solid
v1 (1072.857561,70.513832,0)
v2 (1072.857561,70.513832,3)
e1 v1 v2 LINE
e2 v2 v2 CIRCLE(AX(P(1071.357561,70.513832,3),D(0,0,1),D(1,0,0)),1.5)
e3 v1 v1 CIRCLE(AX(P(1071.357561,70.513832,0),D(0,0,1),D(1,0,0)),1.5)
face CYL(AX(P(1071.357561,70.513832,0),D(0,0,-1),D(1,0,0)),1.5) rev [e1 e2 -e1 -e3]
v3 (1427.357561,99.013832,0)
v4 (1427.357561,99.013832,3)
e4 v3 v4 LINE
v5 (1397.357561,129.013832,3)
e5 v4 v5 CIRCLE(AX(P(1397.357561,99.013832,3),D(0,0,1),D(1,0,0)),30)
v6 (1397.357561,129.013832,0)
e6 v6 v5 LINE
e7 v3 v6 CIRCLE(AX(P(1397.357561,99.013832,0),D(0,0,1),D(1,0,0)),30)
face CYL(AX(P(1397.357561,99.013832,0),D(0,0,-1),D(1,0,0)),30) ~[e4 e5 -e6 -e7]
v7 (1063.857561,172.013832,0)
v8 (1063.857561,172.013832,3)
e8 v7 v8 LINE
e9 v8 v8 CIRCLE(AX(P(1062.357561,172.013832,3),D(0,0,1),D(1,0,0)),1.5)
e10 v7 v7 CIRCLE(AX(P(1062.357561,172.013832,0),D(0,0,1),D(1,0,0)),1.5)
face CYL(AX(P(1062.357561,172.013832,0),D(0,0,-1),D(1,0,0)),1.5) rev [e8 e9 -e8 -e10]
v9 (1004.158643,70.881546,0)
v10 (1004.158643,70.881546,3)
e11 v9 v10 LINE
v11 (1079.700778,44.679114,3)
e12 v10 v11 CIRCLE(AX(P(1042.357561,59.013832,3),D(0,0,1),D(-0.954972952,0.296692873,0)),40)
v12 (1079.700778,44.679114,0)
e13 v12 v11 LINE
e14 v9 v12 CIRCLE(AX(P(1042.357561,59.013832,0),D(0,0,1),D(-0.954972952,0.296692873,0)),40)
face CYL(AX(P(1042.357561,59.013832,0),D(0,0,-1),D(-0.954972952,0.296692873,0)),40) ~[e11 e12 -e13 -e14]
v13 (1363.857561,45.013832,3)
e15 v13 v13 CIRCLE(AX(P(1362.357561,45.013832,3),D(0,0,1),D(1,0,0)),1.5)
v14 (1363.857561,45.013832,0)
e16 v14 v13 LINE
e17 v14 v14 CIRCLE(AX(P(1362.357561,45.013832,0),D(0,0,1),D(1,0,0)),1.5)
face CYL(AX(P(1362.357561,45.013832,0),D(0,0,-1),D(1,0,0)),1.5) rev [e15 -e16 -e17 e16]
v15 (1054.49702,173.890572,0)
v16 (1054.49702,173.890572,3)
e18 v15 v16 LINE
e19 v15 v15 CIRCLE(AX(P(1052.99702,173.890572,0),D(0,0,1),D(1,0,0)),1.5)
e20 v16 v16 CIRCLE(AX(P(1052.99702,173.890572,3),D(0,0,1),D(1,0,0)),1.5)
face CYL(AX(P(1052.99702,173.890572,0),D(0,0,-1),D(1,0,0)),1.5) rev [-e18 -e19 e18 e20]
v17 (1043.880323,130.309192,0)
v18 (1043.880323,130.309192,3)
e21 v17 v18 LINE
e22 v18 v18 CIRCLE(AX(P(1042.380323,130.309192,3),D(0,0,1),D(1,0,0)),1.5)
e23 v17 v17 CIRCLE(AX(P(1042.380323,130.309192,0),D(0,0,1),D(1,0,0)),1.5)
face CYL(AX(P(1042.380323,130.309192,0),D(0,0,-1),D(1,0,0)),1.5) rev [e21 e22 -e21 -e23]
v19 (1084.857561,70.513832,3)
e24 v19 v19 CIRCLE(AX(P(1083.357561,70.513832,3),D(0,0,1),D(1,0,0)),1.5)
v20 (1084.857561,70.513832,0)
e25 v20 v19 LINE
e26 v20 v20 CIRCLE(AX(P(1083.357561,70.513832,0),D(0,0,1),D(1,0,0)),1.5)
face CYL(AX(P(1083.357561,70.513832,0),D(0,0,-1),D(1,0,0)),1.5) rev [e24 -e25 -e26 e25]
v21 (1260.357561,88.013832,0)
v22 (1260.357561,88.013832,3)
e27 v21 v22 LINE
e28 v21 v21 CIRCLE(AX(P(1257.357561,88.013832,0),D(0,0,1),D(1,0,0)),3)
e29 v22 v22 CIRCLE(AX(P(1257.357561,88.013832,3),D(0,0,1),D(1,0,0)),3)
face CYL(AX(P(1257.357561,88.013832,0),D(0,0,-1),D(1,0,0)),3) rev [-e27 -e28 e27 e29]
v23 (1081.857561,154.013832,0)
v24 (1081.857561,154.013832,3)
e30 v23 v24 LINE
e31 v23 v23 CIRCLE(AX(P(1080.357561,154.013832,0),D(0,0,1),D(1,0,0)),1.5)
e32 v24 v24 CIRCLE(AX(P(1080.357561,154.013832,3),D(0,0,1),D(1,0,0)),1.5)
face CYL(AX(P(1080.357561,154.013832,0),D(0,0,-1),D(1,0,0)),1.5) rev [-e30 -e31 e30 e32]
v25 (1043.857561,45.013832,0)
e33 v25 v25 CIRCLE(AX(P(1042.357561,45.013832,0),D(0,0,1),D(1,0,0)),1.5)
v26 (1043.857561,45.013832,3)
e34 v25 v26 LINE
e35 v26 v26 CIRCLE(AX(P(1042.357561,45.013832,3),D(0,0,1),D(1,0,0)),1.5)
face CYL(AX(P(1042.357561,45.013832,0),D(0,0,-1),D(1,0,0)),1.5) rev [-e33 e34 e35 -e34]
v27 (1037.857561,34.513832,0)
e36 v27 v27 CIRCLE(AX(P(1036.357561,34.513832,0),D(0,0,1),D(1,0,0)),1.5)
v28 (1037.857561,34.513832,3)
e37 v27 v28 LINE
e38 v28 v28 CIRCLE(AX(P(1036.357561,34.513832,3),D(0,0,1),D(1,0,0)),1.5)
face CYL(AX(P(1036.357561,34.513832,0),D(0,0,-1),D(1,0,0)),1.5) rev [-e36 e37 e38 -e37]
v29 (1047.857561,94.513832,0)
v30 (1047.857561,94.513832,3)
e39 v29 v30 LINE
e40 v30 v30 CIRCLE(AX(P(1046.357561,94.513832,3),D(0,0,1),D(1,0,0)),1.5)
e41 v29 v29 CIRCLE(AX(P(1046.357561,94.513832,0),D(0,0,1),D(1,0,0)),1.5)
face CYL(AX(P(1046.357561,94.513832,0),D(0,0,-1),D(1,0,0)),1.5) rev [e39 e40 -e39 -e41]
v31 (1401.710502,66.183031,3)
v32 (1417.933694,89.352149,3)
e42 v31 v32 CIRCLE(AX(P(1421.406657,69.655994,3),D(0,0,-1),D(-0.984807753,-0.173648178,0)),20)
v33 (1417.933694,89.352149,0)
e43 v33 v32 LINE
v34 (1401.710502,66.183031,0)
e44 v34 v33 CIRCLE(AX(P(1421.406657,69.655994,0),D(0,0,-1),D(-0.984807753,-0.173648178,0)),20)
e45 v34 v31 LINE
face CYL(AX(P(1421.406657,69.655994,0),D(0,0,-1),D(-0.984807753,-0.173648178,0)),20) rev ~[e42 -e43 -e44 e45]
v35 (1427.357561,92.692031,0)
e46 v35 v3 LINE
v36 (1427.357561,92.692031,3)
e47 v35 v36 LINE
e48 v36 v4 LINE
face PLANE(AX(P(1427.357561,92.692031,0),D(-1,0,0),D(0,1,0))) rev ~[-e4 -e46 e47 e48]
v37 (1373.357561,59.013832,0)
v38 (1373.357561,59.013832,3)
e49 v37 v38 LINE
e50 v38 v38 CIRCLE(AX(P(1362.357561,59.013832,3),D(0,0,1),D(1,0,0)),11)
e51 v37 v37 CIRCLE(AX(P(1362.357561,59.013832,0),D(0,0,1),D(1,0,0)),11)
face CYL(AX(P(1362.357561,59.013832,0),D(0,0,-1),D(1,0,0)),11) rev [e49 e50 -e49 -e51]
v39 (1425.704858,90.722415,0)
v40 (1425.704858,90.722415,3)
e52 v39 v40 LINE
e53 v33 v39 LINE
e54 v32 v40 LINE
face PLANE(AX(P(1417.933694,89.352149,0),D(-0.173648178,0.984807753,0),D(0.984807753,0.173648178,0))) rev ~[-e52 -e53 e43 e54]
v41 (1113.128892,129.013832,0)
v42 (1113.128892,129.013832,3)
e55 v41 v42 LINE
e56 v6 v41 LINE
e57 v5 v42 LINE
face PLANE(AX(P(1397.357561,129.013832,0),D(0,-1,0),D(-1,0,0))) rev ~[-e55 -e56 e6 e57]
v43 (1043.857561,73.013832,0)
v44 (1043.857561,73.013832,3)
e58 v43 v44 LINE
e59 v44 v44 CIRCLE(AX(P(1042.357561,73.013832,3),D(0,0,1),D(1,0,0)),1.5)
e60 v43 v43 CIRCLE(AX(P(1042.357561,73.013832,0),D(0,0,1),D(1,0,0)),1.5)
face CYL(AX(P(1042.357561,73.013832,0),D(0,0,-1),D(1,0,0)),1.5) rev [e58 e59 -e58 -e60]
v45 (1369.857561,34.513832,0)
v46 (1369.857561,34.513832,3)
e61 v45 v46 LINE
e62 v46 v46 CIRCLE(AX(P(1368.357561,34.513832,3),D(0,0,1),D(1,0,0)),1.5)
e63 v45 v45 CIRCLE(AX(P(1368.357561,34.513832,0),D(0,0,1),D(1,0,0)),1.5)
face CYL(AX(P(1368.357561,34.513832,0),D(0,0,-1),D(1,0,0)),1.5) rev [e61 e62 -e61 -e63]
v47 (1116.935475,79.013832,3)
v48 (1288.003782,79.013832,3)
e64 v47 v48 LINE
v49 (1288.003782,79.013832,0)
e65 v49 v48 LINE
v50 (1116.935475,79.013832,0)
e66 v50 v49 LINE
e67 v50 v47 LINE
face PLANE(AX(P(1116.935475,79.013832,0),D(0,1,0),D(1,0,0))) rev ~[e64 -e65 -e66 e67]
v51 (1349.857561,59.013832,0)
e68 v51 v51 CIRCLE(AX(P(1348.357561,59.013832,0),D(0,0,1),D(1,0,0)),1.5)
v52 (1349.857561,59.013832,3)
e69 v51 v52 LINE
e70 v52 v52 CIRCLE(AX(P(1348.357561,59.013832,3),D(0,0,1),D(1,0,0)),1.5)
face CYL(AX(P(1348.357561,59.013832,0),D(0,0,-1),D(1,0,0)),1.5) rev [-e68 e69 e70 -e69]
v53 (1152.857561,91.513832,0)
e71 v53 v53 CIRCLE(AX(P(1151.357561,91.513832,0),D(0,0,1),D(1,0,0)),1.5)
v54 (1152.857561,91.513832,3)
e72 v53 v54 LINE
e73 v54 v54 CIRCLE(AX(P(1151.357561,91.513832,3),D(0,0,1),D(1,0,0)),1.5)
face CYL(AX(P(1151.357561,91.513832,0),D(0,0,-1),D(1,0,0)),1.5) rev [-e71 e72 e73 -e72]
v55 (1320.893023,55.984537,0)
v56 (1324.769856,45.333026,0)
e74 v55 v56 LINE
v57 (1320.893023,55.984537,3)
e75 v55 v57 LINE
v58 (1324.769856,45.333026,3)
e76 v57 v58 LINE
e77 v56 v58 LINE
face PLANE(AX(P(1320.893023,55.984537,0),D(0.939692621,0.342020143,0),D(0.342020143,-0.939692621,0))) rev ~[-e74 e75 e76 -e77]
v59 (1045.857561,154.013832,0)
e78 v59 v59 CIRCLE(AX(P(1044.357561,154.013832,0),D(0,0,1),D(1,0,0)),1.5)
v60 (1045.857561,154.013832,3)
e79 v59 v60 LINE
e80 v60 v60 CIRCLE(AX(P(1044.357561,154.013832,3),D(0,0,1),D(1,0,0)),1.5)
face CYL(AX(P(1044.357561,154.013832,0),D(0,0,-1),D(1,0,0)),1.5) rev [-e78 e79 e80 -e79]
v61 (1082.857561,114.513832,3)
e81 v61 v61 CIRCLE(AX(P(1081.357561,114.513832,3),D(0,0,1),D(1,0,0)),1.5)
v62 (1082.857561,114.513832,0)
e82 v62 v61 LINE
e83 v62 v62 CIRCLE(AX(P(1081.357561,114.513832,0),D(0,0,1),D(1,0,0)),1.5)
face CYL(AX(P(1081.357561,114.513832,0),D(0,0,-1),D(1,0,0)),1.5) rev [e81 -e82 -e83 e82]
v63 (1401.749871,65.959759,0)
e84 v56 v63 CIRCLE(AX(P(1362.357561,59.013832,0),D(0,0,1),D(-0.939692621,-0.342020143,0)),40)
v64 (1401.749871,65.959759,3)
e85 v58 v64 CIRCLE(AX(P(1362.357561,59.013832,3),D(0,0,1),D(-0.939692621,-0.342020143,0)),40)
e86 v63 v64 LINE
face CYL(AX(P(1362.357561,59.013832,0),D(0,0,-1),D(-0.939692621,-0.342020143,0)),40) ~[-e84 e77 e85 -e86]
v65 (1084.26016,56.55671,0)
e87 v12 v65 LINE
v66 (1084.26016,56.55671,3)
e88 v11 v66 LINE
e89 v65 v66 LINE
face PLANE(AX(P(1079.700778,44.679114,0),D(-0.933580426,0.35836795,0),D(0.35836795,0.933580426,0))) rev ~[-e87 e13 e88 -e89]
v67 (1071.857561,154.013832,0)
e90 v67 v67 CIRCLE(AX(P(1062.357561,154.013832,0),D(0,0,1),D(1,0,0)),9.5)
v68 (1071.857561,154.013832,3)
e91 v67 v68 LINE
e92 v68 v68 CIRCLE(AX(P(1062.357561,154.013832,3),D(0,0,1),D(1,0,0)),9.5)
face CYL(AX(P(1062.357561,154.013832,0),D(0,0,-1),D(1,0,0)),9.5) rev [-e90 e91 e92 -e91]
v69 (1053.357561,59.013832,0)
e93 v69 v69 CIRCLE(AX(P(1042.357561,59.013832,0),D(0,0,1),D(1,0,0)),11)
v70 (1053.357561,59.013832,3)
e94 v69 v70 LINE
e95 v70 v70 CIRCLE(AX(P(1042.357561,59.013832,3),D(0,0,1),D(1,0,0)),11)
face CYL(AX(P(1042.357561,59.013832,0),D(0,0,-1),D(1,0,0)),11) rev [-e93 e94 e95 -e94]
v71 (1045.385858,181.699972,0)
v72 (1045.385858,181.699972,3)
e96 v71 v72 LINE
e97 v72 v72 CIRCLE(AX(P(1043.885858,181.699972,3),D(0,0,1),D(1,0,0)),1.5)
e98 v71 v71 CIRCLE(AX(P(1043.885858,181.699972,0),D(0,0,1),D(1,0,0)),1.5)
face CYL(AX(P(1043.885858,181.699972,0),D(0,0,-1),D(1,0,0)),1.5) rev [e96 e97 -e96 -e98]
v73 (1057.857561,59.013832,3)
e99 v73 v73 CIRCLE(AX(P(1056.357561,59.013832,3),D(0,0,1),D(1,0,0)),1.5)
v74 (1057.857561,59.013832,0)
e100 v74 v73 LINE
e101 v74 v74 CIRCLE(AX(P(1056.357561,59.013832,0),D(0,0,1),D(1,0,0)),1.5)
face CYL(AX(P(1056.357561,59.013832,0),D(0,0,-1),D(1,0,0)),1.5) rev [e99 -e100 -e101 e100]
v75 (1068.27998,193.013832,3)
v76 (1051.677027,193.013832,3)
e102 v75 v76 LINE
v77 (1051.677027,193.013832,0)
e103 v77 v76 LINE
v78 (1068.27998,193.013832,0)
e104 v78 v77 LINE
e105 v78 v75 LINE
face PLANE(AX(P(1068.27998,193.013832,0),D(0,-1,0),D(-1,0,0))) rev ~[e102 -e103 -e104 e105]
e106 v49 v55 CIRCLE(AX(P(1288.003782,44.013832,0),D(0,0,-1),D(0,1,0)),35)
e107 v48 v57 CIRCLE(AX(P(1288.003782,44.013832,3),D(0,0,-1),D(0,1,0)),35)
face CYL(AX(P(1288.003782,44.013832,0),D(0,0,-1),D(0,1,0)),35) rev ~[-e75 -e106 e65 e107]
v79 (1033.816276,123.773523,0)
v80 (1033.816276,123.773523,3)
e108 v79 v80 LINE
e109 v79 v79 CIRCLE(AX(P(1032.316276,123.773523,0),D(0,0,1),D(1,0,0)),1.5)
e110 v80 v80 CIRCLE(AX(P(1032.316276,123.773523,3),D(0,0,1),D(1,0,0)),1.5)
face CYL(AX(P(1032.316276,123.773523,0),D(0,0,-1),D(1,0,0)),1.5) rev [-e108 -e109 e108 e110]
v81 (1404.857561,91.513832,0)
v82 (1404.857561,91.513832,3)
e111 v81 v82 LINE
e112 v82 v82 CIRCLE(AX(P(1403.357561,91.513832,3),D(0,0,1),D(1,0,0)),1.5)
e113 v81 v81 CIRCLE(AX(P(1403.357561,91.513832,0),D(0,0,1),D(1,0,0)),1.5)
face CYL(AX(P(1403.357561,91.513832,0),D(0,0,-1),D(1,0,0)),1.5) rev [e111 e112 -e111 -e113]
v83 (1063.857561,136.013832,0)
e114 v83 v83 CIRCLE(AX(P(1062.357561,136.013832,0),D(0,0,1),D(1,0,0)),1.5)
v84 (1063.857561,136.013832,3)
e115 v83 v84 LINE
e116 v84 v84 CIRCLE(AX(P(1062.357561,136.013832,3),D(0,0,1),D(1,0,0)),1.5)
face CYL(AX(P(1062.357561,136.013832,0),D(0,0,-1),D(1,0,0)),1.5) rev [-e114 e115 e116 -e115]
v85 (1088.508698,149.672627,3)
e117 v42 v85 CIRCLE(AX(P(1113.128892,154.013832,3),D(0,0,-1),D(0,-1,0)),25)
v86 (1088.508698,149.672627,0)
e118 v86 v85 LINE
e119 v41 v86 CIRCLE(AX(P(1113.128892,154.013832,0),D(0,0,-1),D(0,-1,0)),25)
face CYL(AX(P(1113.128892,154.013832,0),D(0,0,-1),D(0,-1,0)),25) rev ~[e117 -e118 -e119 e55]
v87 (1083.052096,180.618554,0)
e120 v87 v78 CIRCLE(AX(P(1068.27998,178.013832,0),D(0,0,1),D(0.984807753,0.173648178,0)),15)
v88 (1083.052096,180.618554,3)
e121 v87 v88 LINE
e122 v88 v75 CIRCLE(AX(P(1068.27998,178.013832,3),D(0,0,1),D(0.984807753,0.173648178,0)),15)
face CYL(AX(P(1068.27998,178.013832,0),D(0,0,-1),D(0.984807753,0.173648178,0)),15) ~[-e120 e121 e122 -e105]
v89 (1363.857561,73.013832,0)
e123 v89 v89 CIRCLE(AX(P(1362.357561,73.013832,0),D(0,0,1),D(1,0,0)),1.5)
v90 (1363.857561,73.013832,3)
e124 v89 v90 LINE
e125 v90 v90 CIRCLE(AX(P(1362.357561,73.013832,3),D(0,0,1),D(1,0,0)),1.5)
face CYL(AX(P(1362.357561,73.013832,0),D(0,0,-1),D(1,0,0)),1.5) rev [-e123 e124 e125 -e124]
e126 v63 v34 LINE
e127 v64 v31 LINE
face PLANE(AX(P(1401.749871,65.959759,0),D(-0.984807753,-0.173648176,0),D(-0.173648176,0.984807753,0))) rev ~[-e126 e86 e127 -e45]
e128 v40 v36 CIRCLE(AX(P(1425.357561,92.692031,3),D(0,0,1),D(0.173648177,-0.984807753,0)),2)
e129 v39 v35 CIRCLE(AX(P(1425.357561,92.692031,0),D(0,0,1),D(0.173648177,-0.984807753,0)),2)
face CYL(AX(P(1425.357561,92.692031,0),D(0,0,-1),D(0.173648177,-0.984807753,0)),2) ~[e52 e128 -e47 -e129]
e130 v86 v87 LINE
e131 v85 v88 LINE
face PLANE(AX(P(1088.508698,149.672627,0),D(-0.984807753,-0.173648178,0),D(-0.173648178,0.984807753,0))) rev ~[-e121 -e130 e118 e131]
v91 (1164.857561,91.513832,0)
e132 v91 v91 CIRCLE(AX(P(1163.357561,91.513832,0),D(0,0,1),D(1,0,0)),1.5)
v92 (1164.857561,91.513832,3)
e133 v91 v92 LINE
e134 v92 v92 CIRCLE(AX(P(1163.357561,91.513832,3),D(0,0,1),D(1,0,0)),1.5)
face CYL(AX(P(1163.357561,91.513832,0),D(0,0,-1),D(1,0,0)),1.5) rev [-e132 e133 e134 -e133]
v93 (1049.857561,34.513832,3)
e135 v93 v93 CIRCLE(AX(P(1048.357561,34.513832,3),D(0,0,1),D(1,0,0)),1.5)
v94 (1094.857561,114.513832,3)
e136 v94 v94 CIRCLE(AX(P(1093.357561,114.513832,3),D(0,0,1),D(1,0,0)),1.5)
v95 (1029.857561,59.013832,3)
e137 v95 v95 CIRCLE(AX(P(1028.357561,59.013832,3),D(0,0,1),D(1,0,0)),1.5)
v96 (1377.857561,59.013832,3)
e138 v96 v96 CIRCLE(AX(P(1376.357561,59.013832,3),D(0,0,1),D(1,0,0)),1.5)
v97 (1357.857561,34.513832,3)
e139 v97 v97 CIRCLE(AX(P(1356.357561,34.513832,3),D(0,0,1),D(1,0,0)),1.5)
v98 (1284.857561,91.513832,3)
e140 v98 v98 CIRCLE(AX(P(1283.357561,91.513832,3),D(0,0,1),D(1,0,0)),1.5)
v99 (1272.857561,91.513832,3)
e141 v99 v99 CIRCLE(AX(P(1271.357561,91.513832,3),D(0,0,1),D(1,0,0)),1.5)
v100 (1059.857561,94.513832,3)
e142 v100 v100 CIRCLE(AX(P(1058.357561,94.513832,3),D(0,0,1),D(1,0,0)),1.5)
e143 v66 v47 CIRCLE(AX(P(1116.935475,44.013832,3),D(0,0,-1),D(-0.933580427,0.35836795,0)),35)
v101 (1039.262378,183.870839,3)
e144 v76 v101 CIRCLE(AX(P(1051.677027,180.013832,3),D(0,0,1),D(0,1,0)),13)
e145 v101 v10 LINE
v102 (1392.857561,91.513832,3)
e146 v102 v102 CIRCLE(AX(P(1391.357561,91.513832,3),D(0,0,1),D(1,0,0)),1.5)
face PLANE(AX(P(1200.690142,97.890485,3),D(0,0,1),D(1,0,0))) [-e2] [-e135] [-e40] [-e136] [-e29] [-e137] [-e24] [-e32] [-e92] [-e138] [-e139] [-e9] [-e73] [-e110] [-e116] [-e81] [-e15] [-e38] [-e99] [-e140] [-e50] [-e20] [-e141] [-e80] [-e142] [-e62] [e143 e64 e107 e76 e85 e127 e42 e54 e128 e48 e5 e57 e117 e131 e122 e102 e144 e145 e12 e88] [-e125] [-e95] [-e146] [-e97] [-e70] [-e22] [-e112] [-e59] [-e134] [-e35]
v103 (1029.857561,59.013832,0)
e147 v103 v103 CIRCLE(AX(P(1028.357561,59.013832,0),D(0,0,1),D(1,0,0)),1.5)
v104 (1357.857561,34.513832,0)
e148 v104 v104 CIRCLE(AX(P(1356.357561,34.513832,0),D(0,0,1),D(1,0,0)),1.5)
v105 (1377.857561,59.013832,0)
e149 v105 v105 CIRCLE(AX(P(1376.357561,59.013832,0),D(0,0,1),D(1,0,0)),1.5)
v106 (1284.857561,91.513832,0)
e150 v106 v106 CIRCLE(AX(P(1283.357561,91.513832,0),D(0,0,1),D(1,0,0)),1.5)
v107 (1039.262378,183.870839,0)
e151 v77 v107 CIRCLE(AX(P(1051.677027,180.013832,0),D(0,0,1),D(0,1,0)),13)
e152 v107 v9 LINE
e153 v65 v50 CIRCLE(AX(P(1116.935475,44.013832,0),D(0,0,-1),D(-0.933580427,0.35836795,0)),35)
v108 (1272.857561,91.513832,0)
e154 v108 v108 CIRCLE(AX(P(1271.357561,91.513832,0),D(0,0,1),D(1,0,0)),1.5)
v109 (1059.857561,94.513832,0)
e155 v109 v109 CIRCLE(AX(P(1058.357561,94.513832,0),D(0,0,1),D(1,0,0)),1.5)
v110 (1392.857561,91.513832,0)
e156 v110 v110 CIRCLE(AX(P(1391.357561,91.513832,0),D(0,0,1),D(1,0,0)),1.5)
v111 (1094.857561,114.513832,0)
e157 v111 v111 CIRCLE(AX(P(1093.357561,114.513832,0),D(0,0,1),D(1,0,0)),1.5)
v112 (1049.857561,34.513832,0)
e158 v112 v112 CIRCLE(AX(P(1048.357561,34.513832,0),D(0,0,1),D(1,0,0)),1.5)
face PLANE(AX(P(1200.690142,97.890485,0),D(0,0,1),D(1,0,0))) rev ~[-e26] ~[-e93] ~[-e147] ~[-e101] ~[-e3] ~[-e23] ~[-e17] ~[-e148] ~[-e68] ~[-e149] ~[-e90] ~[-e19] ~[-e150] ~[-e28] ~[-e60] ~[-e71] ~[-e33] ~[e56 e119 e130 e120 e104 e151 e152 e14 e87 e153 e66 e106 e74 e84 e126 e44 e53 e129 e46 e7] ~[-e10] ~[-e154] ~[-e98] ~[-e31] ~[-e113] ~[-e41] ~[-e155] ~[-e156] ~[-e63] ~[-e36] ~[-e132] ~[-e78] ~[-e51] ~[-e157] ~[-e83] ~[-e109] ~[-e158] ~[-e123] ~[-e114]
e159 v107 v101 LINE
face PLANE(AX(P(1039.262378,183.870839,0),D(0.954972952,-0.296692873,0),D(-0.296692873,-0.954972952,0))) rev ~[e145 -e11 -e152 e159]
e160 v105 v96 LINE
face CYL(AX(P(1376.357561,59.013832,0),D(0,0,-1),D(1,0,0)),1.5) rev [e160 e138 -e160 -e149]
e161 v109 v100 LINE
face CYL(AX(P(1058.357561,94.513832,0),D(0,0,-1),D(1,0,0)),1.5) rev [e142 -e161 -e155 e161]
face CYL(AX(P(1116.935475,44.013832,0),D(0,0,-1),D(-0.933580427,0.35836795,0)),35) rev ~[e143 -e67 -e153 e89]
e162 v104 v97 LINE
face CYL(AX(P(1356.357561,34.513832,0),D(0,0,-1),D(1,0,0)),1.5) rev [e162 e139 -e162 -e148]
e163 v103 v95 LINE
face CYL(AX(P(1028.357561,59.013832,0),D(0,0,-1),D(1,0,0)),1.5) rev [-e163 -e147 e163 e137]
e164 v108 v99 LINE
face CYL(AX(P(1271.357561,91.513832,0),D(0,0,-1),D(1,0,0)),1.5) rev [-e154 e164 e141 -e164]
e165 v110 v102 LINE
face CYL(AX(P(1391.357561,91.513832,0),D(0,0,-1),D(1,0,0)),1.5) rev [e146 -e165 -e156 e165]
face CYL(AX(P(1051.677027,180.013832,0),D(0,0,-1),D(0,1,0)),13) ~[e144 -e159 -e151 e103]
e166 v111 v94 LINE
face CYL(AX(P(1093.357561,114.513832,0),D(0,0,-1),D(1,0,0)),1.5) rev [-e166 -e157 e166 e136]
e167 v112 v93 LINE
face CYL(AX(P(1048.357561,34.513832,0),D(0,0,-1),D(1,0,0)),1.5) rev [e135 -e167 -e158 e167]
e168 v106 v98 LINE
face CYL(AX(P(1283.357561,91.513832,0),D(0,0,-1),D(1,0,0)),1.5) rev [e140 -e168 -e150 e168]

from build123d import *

# Parameters (mm, degrees)
MODEL_R         = 11
MODEL_R_2       = 9.5
MODEL_R_3       = 1.5
MODEL_R_4       = 3
EXTRUDE_1_DEPTH = 3


with BuildPart() as part:
    # Model → 凸台-拉伸1 (new body)
    with BuildSketch(Plane.XY):
        with BuildLine():
            Line((1088.508697922, 149.67262706), (1083.05209603, 180.618554166))
            ThreePointArc((1083.05209603, 180.618554166), (1077.92179388, 189.504498148), (1068.279979735, 193.013831501))
            Line((1068.279979735, 193.013831501), (1051.677026847, 193.013831501))
            ThreePointArc((1051.677026847, 193.013831501), (1043.967976827, 190.481426631), (1039.262378471, 183.870838854))
            Line((1039.262378471, 183.870838854), (1004.158643075, 70.881546432))
            ThreePointArc((1004.158643075, 70.881546432), (1029.249360335, 21.222627878), (1079.700778213, 44.67911352))
            Line((1079.700778213, 44.67911352), (1084.260160223, 56.556709735))
            ThreePointArc((1084.260160223, 56.556709735), (1097.111256858, 72.858248103), (1116.93547515, 79.013831501))
            Line((1116.93547515, 79.013831501), (1288.003781731, 79.013831501))
            ThreePointArc((1288.003781731, 79.013831501), (1308.078957003, 72.684153051), (1320.893023458, 55.984536518))
            Line((1320.893023458, 55.984536518), (1324.769856321, 45.333025768))
            ThreePointArc((1324.769856321, 45.333025768), (1372.710322957, 20.37679845), (1401.749871273, 65.959758608))
            Line((1401.749871273, 65.959758608), (1401.710502358, 66.183030822))
            ThreePointArc((1401.710502358, 66.183030822), (1405.023616532, 81.127523103), (1417.933693865, 89.352149436))
            Line((1417.933693865, 89.352149436), (1425.704857508, 90.722415258))
            ThreePointArc((1425.704857508, 90.722415258), (1426.889650039, 91.406455544), (1427.357561153, 92.692030764))
            Line((1427.357561153, 92.692030764), (1427.357561153, 99.013831501))
            ThreePointArc((1427.357561153, 99.013831501), (1418.570764588, 120.227034937), (1397.357561153, 129.013831501))
            Line((1397.357561153, 129.013831501), (1113.128891747, 129.013831501))
            ThreePointArc((1113.128891747, 129.013831501), (1097.059201505, 134.862720423), (1088.508697922, 149.67262706))
        make_face()
        with Locations((1362.357561153, 59.013831501)):
            Circle(MODEL_R, mode=Mode.SUBTRACT)
        with Locations((1042.357561153, 59.013831501)):
            Circle(MODEL_R, mode=Mode.SUBTRACT)
        with Locations((1062.357561153, 154.013831501)):
            Circle(MODEL_R_2, mode=Mode.SUBTRACT)
        with Locations((1151.357561153, 91.513831501)):
            Circle(MODEL_R_3, mode=Mode.SUBTRACT)
        with Locations((1163.357561153, 91.513831501)):
            Circle(MODEL_R_3, mode=Mode.SUBTRACT)
        with Locations((1271.357561153, 91.513831501)):
            Circle(MODEL_R_3, mode=Mode.SUBTRACT)
        with Locations((1283.357561153, 91.513831501)):
            Circle(MODEL_R_3, mode=Mode.SUBTRACT)
        with Locations((1391.357561153, 91.513831501)):
            Circle(MODEL_R_3, mode=Mode.SUBTRACT)
        with Locations((1403.357561153, 91.513831501)):
            Circle(MODEL_R_3, mode=Mode.SUBTRACT)
        with Locations((1093.357561153, 114.513831501)):
            Circle(MODEL_R_3, mode=Mode.SUBTRACT)
        with Locations((1081.357561153, 114.513831501)):
            Circle(MODEL_R_3, mode=Mode.SUBTRACT)
        with Locations((1046.357561153, 94.513831501)):
            Circle(MODEL_R_3, mode=Mode.SUBTRACT)
        with Locations((1058.357561153, 94.513831501)):
            Circle(MODEL_R_3, mode=Mode.SUBTRACT)
        with Locations((1071.357561153, 70.513831501)):
            Circle(MODEL_R_3, mode=Mode.SUBTRACT)
        with Locations((1083.357561153, 70.513831501)):
            Circle(MODEL_R_3, mode=Mode.SUBTRACT)
        with Locations((1036.357561153, 34.513831501)):
            Circle(MODEL_R_3, mode=Mode.SUBTRACT)
        with Locations((1048.357561153, 34.513831501)):
            Circle(MODEL_R_3, mode=Mode.SUBTRACT)
        with Locations((1356.357561153, 34.513831501)):
            Circle(MODEL_R_3, mode=Mode.SUBTRACT)
        with Locations((1368.357561153, 34.513831501)):
            Circle(MODEL_R_3, mode=Mode.SUBTRACT)
        with Locations((1062.357561153, 172.013831501)):
            Circle(MODEL_R_3, mode=Mode.SUBTRACT)
        with Locations((1080.357561153, 154.013831501)):
            Circle(MODEL_R_3, mode=Mode.SUBTRACT)
        with Locations((1062.357561153, 136.013831501)):
            Circle(MODEL_R_3, mode=Mode.SUBTRACT)
        with Locations((1044.357561153, 154.013831501)):
            Circle(MODEL_R_3, mode=Mode.SUBTRACT)
        with Locations((1042.380322879, 130.30919164)):
            Circle(MODEL_R_3, mode=Mode.SUBTRACT)
        with Locations((1032.316276064, 123.77352322)):
            Circle(MODEL_R_3, mode=Mode.SUBTRACT)
        with Locations((1042.357561153, 73.013831501)):
            Circle(MODEL_R_3, mode=Mode.SUBTRACT)
        with Locations((1056.357561153, 59.013831501)):
            Circle(MODEL_R_3, mode=Mode.SUBTRACT)
        with Locations((1042.357561153, 45.013831501)):
            Circle(MODEL_R_3, mode=Mode.SUBTRACT)
        with Locations((1028.357561153, 59.013831501)):
            Circle(MODEL_R_3, mode=Mode.SUBTRACT)
        with Locations((1362.357561153, 73.013831501)):
            Circle(MODEL_R_3, mode=Mode.SUBTRACT)
        with Locations((1376.357561153, 59.013831501)):
            Circle(MODEL_R_3, mode=Mode.SUBTRACT)
        with Locations((1362.357561153, 45.013831501)):
            Circle(MODEL_R_3, mode=Mode.SUBTRACT)
        with Locations((1348.357561153, 59.013831501)):
            Circle(MODEL_R_3, mode=Mode.SUBTRACT)
        with Locations((1257.357561153, 88.013831501)):
            Circle(MODEL_R_4, mode=Mode.SUBTRACT)
        with Locations((1043.885858479, 181.699972429)):
            Circle(MODEL_R_3, mode=Mode.SUBTRACT)
        with Locations((1052.99702044, 173.890572471)):
            Circle(MODEL_R_3, mode=Mode.SUBTRACT)
    extrude(amount=EXTRUDE_1_DEPTH)


solid = part.part
